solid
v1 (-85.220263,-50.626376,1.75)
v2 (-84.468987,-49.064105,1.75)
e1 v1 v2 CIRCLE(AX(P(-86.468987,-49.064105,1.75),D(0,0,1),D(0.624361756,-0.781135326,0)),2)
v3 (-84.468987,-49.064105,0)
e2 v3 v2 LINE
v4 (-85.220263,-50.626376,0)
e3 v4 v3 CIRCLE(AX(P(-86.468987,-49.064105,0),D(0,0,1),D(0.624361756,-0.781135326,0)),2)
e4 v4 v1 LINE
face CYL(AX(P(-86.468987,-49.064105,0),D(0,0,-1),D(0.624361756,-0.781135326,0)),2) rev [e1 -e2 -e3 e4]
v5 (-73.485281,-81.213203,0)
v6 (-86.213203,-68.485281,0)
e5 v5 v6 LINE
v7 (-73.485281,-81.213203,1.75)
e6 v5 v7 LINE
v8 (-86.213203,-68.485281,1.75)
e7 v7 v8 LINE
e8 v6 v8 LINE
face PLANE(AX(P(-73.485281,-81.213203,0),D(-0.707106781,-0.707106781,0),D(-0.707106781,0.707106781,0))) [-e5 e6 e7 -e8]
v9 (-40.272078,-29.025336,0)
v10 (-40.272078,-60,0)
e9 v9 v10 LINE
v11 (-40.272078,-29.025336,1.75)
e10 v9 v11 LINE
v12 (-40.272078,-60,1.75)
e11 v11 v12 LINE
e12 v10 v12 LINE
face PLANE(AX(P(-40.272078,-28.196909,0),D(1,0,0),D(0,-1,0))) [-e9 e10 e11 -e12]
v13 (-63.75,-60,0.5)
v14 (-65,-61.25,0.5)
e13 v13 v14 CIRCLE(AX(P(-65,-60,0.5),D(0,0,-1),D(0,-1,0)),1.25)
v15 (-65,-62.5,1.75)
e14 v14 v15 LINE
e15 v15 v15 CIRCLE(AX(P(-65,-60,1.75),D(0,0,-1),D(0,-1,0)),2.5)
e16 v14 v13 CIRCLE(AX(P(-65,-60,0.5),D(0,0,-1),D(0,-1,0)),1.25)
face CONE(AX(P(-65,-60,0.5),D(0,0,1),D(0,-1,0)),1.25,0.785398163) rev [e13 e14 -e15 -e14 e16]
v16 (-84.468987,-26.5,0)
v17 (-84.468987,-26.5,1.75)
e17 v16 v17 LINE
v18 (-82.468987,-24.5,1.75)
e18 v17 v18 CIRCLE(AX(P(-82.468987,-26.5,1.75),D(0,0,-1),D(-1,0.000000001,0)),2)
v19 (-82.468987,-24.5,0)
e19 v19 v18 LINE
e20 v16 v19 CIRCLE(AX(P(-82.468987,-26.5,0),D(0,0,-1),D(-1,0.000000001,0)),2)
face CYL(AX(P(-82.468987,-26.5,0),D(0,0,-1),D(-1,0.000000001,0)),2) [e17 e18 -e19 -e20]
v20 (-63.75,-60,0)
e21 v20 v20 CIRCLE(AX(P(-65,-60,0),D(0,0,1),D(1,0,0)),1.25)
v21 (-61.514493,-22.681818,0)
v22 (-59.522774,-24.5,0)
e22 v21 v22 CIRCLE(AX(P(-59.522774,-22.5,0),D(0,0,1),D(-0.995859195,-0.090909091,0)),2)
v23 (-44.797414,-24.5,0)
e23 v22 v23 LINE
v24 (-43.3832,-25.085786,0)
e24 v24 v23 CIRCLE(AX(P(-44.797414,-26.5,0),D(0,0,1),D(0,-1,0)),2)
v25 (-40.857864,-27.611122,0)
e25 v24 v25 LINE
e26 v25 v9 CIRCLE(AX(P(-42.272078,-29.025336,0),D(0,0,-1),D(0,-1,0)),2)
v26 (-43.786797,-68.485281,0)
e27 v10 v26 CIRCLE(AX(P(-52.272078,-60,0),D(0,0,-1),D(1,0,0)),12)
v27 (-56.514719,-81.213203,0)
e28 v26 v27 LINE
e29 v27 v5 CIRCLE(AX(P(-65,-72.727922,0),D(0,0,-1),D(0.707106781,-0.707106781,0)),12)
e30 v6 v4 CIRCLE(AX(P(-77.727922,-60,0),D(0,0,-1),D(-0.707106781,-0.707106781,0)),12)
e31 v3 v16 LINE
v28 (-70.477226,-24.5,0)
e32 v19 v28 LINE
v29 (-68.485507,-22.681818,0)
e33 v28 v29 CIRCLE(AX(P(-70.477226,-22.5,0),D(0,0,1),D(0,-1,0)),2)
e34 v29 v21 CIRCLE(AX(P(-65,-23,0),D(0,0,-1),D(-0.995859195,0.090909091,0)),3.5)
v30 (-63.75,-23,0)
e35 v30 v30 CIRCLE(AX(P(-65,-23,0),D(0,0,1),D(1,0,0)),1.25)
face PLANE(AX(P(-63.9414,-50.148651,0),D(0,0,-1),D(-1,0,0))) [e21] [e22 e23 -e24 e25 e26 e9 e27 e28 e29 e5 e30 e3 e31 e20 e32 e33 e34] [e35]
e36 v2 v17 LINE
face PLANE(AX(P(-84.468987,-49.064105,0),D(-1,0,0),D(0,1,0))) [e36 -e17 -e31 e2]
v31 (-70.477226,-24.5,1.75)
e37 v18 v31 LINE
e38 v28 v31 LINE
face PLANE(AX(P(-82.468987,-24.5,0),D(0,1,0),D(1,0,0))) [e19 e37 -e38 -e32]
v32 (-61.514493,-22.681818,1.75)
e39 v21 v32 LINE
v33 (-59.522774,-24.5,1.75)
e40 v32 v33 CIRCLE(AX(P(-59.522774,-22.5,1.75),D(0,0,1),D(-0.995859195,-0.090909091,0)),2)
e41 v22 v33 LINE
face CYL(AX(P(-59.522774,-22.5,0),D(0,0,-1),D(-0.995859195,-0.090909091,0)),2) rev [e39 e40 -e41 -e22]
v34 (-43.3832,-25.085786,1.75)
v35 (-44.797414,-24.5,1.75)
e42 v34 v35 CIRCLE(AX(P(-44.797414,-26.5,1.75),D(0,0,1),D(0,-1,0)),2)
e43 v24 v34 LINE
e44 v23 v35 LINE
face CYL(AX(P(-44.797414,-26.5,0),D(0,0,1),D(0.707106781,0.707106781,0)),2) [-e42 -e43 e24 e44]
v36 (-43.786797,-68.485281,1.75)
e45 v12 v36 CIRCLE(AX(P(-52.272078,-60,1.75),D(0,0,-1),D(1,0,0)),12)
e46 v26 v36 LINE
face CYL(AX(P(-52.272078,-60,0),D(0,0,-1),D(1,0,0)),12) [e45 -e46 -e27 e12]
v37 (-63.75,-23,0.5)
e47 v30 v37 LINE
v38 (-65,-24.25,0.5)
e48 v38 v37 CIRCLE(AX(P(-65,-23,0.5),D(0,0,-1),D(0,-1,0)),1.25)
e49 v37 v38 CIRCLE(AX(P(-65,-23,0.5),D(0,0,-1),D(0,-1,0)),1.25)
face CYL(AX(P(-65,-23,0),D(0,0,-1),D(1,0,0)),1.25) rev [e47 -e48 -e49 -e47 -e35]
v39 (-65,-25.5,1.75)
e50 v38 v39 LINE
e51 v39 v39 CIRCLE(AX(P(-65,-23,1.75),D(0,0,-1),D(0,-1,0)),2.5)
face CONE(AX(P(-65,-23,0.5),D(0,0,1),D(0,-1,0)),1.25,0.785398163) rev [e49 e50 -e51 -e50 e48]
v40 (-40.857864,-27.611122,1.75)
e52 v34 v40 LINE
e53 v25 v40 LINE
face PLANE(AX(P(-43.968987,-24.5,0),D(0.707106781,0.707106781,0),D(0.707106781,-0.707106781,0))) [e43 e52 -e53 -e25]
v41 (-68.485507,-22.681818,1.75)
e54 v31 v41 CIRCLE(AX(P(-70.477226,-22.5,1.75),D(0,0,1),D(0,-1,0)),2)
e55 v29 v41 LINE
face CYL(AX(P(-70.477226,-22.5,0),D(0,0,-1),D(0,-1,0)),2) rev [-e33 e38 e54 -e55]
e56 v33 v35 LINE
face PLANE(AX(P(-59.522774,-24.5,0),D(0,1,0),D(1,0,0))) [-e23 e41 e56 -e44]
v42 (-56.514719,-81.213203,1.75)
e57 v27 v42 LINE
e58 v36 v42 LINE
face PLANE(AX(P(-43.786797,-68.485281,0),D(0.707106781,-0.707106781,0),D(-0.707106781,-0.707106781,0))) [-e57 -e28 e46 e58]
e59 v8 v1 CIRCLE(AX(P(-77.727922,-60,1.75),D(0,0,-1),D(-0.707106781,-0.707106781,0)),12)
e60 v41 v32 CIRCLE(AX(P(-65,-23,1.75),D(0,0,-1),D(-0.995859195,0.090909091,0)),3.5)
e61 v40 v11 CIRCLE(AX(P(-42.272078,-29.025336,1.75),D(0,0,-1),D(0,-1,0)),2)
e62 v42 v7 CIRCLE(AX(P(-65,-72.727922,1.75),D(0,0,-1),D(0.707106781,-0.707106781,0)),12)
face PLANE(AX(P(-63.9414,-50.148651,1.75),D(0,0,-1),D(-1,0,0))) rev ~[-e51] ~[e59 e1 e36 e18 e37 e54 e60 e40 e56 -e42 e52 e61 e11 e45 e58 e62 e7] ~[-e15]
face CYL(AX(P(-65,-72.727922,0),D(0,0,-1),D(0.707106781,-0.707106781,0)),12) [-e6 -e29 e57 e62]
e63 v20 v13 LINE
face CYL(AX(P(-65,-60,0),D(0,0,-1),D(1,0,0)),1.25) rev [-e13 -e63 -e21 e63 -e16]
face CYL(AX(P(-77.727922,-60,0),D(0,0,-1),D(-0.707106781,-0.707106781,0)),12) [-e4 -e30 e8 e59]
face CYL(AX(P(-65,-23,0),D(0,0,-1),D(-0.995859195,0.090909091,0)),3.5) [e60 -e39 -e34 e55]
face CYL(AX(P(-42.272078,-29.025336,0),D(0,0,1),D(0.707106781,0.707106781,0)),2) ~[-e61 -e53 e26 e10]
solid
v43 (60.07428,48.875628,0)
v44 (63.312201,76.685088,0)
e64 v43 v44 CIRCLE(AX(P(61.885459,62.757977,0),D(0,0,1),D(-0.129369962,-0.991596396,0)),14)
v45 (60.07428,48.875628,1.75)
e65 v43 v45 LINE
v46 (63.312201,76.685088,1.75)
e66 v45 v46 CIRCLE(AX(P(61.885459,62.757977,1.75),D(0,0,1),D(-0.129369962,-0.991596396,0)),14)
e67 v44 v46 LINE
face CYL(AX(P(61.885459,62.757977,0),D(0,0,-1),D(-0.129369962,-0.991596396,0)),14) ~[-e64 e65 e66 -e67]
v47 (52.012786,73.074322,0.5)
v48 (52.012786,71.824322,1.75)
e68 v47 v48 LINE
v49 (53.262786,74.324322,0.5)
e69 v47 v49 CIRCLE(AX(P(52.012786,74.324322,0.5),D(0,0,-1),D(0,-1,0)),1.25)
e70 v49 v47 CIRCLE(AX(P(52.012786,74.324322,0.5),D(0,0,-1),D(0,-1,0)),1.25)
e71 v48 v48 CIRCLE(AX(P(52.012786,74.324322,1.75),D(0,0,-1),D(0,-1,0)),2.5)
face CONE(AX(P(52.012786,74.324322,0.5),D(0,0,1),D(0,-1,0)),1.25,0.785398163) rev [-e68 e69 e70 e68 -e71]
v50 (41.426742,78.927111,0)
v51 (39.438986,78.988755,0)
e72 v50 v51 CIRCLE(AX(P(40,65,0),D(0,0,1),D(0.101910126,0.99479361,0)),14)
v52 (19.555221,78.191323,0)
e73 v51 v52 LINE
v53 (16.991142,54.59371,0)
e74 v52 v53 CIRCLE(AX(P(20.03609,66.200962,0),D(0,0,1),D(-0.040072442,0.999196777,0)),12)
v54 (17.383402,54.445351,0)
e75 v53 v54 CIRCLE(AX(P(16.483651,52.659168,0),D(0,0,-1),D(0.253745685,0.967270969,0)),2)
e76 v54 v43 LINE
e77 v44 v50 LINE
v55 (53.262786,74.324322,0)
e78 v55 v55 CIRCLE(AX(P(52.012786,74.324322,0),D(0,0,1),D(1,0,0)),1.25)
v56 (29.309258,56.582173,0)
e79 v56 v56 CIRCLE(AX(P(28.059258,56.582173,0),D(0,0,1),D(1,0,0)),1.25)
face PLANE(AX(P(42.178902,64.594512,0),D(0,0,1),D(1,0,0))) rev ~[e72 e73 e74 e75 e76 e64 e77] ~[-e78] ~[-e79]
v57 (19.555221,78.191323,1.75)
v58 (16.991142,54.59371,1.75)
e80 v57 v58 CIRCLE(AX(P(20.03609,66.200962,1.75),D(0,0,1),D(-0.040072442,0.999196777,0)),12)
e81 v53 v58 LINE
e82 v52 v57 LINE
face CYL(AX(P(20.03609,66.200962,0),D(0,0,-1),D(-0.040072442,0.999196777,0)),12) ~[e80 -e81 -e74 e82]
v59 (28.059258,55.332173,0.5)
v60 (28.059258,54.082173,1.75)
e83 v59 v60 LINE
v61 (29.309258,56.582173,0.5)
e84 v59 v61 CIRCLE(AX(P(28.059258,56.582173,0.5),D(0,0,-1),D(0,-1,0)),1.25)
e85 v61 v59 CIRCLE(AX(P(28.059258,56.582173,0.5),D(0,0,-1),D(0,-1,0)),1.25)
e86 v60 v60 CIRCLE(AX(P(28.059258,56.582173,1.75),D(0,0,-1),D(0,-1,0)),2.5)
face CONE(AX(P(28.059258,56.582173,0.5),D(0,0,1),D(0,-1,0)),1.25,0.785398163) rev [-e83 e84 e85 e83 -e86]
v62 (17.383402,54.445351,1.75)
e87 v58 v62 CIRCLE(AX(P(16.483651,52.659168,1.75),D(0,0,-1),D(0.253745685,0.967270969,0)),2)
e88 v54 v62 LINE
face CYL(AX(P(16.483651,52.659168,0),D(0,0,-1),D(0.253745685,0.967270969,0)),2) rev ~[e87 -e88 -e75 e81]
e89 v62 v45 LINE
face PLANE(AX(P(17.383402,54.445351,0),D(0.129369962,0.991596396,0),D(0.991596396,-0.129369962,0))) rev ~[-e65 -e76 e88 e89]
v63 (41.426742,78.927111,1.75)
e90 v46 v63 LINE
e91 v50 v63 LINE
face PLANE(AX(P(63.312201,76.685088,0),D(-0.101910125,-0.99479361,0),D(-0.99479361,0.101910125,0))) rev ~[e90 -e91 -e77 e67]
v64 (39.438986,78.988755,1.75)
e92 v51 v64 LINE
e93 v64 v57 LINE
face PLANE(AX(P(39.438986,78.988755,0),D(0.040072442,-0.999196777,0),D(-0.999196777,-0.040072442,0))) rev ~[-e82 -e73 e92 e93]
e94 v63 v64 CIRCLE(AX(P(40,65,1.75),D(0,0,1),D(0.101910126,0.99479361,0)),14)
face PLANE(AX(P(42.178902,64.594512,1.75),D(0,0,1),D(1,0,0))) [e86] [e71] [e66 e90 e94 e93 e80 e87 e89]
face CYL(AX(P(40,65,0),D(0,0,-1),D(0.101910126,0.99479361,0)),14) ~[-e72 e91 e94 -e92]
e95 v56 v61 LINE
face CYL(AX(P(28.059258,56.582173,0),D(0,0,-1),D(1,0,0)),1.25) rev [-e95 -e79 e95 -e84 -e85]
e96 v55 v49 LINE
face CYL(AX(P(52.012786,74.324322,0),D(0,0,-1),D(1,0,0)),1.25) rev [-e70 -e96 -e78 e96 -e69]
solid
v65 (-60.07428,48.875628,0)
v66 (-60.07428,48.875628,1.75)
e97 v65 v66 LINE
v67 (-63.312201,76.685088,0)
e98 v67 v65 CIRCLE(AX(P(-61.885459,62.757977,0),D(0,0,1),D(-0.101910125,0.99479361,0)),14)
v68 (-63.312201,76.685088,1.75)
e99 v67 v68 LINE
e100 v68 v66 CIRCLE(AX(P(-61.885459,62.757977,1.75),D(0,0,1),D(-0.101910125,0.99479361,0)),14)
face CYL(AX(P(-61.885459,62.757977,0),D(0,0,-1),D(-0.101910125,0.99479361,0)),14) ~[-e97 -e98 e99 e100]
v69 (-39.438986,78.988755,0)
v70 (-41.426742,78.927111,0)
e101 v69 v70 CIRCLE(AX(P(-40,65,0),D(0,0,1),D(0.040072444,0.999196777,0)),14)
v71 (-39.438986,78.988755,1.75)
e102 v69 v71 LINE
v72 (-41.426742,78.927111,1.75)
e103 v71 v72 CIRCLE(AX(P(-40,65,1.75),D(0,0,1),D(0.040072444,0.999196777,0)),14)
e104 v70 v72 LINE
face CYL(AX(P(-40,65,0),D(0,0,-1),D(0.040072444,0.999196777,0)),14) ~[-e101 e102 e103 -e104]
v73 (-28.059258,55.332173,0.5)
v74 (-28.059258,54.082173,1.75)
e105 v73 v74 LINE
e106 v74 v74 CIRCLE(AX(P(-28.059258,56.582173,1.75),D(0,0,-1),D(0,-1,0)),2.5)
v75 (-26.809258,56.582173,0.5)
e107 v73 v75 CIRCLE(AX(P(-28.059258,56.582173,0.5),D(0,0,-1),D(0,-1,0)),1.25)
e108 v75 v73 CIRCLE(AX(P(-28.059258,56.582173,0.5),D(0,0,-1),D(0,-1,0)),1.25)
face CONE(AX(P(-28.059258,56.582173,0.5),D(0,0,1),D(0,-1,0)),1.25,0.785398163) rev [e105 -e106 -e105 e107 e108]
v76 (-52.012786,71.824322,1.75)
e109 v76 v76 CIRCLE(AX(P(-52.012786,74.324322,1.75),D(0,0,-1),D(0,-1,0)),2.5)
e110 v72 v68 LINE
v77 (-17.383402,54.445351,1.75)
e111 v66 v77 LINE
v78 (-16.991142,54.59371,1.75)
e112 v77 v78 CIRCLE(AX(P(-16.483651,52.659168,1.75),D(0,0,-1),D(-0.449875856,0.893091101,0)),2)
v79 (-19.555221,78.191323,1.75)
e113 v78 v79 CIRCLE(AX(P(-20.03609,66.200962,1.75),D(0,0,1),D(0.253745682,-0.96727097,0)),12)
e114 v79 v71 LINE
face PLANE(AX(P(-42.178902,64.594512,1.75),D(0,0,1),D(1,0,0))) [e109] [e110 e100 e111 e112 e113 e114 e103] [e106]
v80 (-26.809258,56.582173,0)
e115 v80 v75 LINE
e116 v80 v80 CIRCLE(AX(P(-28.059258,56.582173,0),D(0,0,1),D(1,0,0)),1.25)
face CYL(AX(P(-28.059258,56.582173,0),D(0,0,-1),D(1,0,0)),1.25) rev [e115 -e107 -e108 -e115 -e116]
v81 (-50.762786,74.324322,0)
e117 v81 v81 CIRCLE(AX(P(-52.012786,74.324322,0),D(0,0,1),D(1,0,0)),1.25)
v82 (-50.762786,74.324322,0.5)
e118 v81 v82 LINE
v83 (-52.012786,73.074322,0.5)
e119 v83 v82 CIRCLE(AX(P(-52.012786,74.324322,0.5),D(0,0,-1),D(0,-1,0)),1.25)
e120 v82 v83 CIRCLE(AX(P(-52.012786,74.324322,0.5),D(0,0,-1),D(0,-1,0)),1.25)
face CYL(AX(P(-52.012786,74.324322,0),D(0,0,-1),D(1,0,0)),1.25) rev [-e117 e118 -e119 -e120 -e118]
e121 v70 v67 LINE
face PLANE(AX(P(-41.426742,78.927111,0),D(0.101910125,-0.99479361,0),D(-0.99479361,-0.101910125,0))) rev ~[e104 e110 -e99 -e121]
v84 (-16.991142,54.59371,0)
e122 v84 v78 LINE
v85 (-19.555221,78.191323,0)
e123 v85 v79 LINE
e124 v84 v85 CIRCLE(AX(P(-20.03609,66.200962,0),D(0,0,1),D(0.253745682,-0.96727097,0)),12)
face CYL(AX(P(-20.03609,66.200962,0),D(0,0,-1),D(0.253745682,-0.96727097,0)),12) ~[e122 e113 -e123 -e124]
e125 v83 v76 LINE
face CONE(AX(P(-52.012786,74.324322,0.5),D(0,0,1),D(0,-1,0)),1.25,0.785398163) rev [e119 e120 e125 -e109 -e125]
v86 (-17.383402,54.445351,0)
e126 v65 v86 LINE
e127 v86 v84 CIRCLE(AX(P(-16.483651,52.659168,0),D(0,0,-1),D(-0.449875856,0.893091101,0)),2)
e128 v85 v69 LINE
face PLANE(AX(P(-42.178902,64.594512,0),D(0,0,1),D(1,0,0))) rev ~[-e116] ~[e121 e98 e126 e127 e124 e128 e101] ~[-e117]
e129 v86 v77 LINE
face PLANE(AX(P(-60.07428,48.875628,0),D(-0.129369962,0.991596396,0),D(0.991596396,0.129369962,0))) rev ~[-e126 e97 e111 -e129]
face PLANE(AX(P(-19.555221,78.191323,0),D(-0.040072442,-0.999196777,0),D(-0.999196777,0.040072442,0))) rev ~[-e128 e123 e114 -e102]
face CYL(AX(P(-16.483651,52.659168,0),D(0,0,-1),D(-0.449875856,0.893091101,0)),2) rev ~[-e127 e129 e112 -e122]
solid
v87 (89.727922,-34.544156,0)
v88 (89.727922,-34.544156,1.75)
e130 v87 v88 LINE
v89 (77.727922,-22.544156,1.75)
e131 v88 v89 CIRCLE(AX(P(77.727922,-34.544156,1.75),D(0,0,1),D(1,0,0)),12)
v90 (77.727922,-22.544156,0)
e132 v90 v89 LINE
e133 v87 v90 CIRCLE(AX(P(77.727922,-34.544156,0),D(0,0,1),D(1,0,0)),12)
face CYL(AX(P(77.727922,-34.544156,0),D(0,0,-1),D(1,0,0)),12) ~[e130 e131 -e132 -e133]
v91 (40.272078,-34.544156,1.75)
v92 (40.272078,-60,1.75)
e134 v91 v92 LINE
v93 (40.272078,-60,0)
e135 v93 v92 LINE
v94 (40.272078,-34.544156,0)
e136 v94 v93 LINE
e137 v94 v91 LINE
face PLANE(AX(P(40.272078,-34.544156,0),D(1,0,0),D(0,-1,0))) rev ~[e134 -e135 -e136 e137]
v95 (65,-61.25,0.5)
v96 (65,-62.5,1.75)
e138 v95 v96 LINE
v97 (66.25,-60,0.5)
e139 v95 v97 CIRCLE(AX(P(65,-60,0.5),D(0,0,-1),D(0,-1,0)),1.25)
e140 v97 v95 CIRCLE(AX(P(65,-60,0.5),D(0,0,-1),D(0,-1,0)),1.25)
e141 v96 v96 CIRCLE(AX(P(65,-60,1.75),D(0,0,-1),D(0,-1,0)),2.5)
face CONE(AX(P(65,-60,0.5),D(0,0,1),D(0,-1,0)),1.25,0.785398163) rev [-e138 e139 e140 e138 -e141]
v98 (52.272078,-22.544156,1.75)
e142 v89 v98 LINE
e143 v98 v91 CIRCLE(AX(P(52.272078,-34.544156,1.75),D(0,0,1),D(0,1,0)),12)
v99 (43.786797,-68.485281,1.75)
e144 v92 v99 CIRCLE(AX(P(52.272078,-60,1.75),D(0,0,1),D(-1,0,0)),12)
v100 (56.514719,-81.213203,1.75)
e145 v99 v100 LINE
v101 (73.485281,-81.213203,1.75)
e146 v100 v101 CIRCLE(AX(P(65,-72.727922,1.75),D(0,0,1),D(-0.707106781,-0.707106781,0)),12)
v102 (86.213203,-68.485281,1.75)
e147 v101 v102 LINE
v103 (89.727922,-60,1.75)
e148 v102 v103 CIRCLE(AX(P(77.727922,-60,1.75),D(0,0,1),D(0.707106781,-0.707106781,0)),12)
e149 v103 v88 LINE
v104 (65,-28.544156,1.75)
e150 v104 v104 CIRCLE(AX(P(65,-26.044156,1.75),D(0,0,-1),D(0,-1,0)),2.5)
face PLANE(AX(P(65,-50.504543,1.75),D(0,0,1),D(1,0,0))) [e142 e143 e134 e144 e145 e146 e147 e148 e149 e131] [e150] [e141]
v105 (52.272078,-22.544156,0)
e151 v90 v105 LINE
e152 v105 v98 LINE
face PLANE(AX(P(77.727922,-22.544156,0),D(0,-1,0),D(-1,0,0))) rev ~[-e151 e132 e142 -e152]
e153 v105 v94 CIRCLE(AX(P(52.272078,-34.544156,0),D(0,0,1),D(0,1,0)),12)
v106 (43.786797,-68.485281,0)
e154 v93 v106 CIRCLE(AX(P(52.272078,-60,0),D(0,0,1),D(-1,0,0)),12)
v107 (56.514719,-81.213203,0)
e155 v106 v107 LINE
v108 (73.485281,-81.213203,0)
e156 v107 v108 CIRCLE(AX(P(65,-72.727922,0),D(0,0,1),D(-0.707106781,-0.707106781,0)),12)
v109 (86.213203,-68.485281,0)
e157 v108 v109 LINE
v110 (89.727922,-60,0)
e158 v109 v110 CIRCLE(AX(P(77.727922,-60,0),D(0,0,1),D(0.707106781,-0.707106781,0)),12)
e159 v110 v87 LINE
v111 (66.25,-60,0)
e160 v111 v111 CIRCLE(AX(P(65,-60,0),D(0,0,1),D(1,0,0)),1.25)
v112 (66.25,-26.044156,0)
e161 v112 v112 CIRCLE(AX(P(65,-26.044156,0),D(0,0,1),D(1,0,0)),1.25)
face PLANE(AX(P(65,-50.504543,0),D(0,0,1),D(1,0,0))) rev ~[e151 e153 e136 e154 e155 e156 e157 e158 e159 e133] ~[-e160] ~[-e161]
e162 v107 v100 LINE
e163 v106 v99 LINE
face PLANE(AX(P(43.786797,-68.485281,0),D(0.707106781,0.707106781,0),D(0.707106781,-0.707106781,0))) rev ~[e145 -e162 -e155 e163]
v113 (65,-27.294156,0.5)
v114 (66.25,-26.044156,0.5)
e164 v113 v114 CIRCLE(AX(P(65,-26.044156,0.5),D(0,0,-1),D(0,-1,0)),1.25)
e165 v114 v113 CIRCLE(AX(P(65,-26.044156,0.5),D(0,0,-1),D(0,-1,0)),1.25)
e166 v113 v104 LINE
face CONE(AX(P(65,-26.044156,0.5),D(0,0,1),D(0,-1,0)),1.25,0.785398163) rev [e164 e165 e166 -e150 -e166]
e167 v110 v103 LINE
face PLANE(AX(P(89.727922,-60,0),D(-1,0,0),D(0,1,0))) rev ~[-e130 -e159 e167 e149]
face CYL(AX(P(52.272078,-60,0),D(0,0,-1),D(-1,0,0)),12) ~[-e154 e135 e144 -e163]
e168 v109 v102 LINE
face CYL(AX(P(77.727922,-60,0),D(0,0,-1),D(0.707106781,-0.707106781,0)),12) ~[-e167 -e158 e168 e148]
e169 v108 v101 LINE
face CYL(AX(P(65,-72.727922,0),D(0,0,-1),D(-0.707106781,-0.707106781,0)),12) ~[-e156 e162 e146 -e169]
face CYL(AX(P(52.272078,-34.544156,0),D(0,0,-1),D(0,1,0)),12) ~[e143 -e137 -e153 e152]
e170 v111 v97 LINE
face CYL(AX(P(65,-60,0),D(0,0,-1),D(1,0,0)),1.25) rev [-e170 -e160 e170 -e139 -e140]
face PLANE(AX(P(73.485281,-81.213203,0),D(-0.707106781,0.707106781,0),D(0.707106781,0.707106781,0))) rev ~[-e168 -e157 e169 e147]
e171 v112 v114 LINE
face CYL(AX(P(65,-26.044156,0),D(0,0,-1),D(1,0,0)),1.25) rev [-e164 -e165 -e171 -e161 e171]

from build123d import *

# Parameters (mm, degrees)
SKETCH1_R                                      = 1.25
BOSS_EXTRUDE1_DEPTH                            = 1.75
BOSS_EXTRUDE1_2_DEPTH                          = 1.75
BOSS_EXTRUDE1_3_DEPTH                          = 1.75
BOSS_EXTRUDE1_4_DEPTH                          = 1.75
CSK_FOR_M2_5_FLAT_HEAD_MACHINE_SCREW1_AT_COUNT = 2
CSK_FOR_M2_5_FLAT_HEAD_MACHINE_SCREW1_AT_PITCH = 37
CSK_FOR_M2_5_FLAT_HEAD_MACHINE_SCREW_2_COUNT   = 2
CSK_FOR_M2_5_FLAT_HEAD_MACHINE_SCREW_2_PITCH   = 98.187021999
CSK_FOR_M2_5_FLAT_HEAD_MACHINE_SCREW_3_COUNT   = 2
CSK_FOR_M2_5_FLAT_HEAD_MACHINE_SCREW_3_PITCH   = 87.737908903
CSK_FOR_M2_5_FLAT_HEAD_MACHINE_SCREW_4_COUNT   = 2
CSK_FOR_M2_5_FLAT_HEAD_MACHINE_SCREW_4_PITCH   = 152.197291874
CSK_FOR_M2_5_FLAT_HEAD_MACHINE_SCREW_5_COUNT   = 2
CSK_FOR_M2_5_FLAT_HEAD_MACHINE_SCREW_5_PITCH   = 122.44732595
CSK_FOR_M2_5_FLAT_HEAD_MACHINE_SCREW_6_COUNT   = 2
CSK_FOR_M2_5_FLAT_HEAD_MACHINE_SCREW_6_PITCH   = 130.035636981
CSK_FOR_M2_5_FLAT_HEAD_MACHINE_SCREW_7_COUNT   = 2
CSK_FOR_M2_5_FLAT_HEAD_MACHINE_SCREW_7_PITCH   = 135.162864723
FILLET1_R                                      = 2


with BuildPart() as part:
    # Sketch1 → Boss-Extrude1 (new body)
    with BuildSketch(Plane.XY):
        with BuildLine():
            Line((-43.968986643, -24.5), (-40.272077939, -28.196908704))
            Line((-40.272077939, -28.196908704), (-40.272077939, -60))
            ThreePointArc((-40.272077939, -60), (-41.185523549, -64.592201188), (-43.786796564, -68.485281374))
            Line((-43.786796564, -68.485281374), (-56.514718626, -81.213203436))
            ThreePointArc((-56.514718626, -81.213203436), (-65, -84.727922061), (-73.485281374, -81.213203436))
            Line((-73.485281374, -81.213203436), (-86.213203436, -68.485281374))
            ThreePointArc((-86.213203436, -68.485281374), (-89.709417347, -59.333838811), (-85.220263131, -50.626376085))
            ThreePointArc((-85.220263131, -50.626376085), (-84.666565074, -49.930867504), (-84.468986643, -49.064105433))
            Line((-84.468986643, -49.064105433), (-84.468986643, -26.5))
            ThreePointArc((-84.468986643, -26.5), (-83.883200205, -25.085786438), (-82.468986643, -24.5))
            Line((-82.468986643, -24.5), (-70.477225575, -24.5))
            ThreePointArc((-70.477225575, -24.5), (-69.12882585, -23.977097892), (-68.485507184, -22.681818182))
            ThreePointArc((-68.485507184, -22.681818182), (-65, -19.5), (-61.514492816, -22.681818182))
            ThreePointArc((-61.514492816, -22.681818182), (-60.87117415, -23.977097892), (-59.522774425, -24.5))
            Line((-59.522774425, -24.5), (-43.968986643, -24.5))
        make_face()
        with Locations((-65, -60)):
            Circle(SKETCH1_R, mode=Mode.SUBTRACT)
        with Locations((-65, -23)):
            Circle(SKETCH1_R, mode=Mode.SUBTRACT)
    extrude(amount=BOSS_EXTRUDE1_DEPTH)

    # Sketch3 → CSK for M2.5 Flat Head Machine Screw1 (revolve, cut)
    with BuildSketch(Plane(origin=(-65, -23, 1.75), x_dir=(0, -1, 0), z_dir=(1, 0, 0))):
        Polygon((0, 0), (0, 1.75), (1.25, 1.75), (1.25, 1.25), (2.5, 0), align=None)
    csk_for_m2_5_flat_head_machine_screw1 = revolve(axis=Axis((-65, -23, 8.1), (0, 0, -1)), mode=Mode.SUBTRACT)

    # CSK for M2.5 Flat Head Machine Screw1 at: CSK for M2.5 Flat Head Machine Screw1 ×2
    with Locations(*[(0, -i * CSK_FOR_M2_5_FLAT_HEAD_MACHINE_SCREW1_AT_PITCH, 0) for i in range(1, CSK_FOR_M2_5_FLAT_HEAD_MACHINE_SCREW1_AT_COUNT)]):
        add(csk_for_m2_5_flat_head_machine_screw1, mode=Mode.SUBTRACT)

    # Fillet1
    fillet1_edges = [part.edges().sort_by_distance(p)[0] for p in [
        (-43.968986643, -24.5, 0.875),
        (-40.272077939, -28.196908704, 0.875),
    ]]
    fillet(fillet1_edges, radius=FILLET1_R)


with BuildPart() as body_2:
    # Sketch1 → Boss-Extrude1 2 (new body)
    with BuildSketch(Plane.XY):
        with BuildLine():
            Line((89.727922061, -60), (89.727922061, -34.544155877))
            ThreePointArc((89.727922061, -34.544155877), (86.213203436, -26.058874503), (77.727922061, -22.544155877))
            Line((77.727922061, -22.544155877), (52.272077939, -22.544155877))
            ThreePointArc((52.272077939, -22.544155877), (43.786796564, -26.058874503), (40.272077939, -34.544155877))
            Line((40.272077939, -34.544155877), (40.272077939, -60))
            ThreePointArc((40.272077939, -60), (41.185523549, -64.592201188), (43.786796564, -68.485281374))
            Line((43.786796564, -68.485281374), (56.514718626, -81.213203436))
            ThreePointArc((56.514718626, -81.213203436), (65, -84.727922061), (73.485281374, -81.213203436))
            Line((73.485281374, -81.213203436), (86.213203436, -68.485281374))
            ThreePointArc((86.213203436, -68.485281374), (88.814476451, -64.592201188), (89.727922061, -60))
        make_face()
        with Locations((65, -60)):
            Circle(SKETCH1_R, mode=Mode.SUBTRACT)
        with Locations((65, -26.044155877)):
            Circle(SKETCH1_R, mode=Mode.SUBTRACT)
    extrude(amount=BOSS_EXTRUDE1_2_DEPTH)

    # CSK for M2.5 Flat Head Machine Screw 6: CSK for M2.5 Flat Head Machine Screw1 ×2
    with Locations(*[Vector(0.9997259445053818, -0.023410166227997686, 0) * (i * CSK_FOR_M2_5_FLAT_HEAD_MACHINE_SCREW_6_PITCH) for i in range(1, CSK_FOR_M2_5_FLAT_HEAD_MACHINE_SCREW_6_COUNT)]):
        add(csk_for_m2_5_flat_head_machine_screw1, mode=Mode.SUBTRACT)

    # CSK for M2.5 Flat Head Machine Screw 7: CSK for M2.5 Flat Head Machine Screw1 ×2
    with Locations(*[Vector(0.9618026391115247, -0.2737438280548188, 0) * (i * CSK_FOR_M2_5_FLAT_HEAD_MACHINE_SCREW_7_PITCH) for i in range(1, CSK_FOR_M2_5_FLAT_HEAD_MACHINE_SCREW_7_COUNT)]):
        add(csk_for_m2_5_flat_head_machine_screw1, mode=Mode.SUBTRACT)


with BuildPart() as body_3:
    # Sketch1 → Boss-Extrude1 3 (new body)
    with BuildSketch(Plane.XY):
        with BuildLine():
            Line((63.312201165, 76.685087798), (41.426741745, 78.92711054))
            ThreePointArc((41.426741745, 78.92711054), (40.43395974, 78.993272632), (39.438985809, 78.988754879))
            Line((39.438985809, 78.988754879), (19.555221001, 78.191323348))
            ThreePointArc((19.555221001, 78.191323348), (8.106309017, 67.497232972), (16.991142128, 54.593710385))
            ThreePointArc((16.991142128, 54.593710385), (17.191171735, 54.529840537), (17.383402479, 54.445350645))
            Line((17.383402479, 54.445350645), (60.074279954, 48.875627711))
            ThreePointArc((60.074279954, 48.875627711), (75.791518016, 61.138861966), (63.312201165, 76.685087798))
        make_face()
        with Locations((52.012786019, 74.324321534)):
            Circle(SKETCH1_R, mode=Mode.SUBTRACT)
        with Locations((28.059257591, 56.582172683)):
            Circle(SKETCH1_R, mode=Mode.SUBTRACT)
    extrude(amount=BOSS_EXTRUDE1_3_DEPTH)

    # CSK for M2.5 Flat Head Machine Screw 4: CSK for M2.5 Flat Head Machine Screw1 ×2
    with Locations(*[Vector(0.7688230491999356, 0.6394615852566231, 0) * (i * CSK_FOR_M2_5_FLAT_HEAD_MACHINE_SCREW_4_PITCH) for i in range(1, CSK_FOR_M2_5_FLAT_HEAD_MACHINE_SCREW_4_COUNT)]):
        add(csk_for_m2_5_flat_head_machine_screw1, mode=Mode.SUBTRACT)

    # CSK for M2.5 Flat Head Machine Screw 5: CSK for M2.5 Flat Head Machine Screw1 ×2
    with Locations(*[Vector(0.7599942005192046, 0.6499298540436306, 0) * (i * CSK_FOR_M2_5_FLAT_HEAD_MACHINE_SCREW_5_PITCH) for i in range(1, CSK_FOR_M2_5_FLAT_HEAD_MACHINE_SCREW_5_COUNT)]):
        add(csk_for_m2_5_flat_head_machine_screw1, mode=Mode.SUBTRACT)


with BuildPart() as body_4:
    # Sketch1 → Boss-Extrude1 4 (new body)
    with BuildSketch(Plane.XY):
        with BuildLine():
            Line((-41.426741745, 78.92711054), (-63.312201165, 76.685087798))
            ThreePointArc((-63.312201165, 76.685087798), (-75.791518016, 61.138861966), (-60.074279954, 48.875627711))
            Line((-60.074279954, 48.875627711), (-17.383402479, 54.445350645))
            ThreePointArc((-17.383402479, 54.445350645), (-17.191171735, 54.529840537), (-16.991142128, 54.593710385))
            ThreePointArc((-16.991142128, 54.593710385), (-8.106309017, 67.497232972), (-19.555221001, 78.191323348))
            Line((-19.555221001, 78.191323348), (-39.438985809, 78.988754879))
            ThreePointArc((-39.438985809, 78.988754879), (-40.43395974, 78.993272632), (-41.426741745, 78.92711054))
        make_face()
        with Locations((-28.059257591, 56.582172683)):
            Circle(SKETCH1_R, mode=Mode.SUBTRACT)
        with Locations((-52.012786019, 74.324321534)):
            Circle(SKETCH1_R, mode=Mode.SUBTRACT)
    extrude(amount=BOSS_EXTRUDE1_4_DEPTH)

    # CSK for M2.5 Flat Head Machine Screw 2: CSK for M2.5 Flat Head Machine Screw1 ×2
    with Locations(*[Vector(0.1322701688752495, 0.9912137016938946, 0) * (i * CSK_FOR_M2_5_FLAT_HEAD_MACHINE_SCREW_2_PITCH) for i in range(1, CSK_FOR_M2_5_FLAT_HEAD_MACHINE_SCREW_2_COUNT)]):
        add(csk_for_m2_5_flat_head_machine_screw1, mode=Mode.SUBTRACT)

    # CSK for M2.5 Flat Head Machine Screw 3: CSK for M2.5 Flat Head Machine Screw1 ×2
    with Locations(*[Vector(0.42103513602016673, 0.9070443287053174, 0) * (i * CSK_FOR_M2_5_FLAT_HEAD_MACHINE_SCREW_3_PITCH) for i in range(1, CSK_FOR_M2_5_FLAT_HEAD_MACHINE_SCREW_3_COUNT)]):
        add(csk_for_m2_5_flat_head_machine_screw1, mode=Mode.SUBTRACT)


solid = Compound([part.part, body_2.part, body_3.part, body_4.part])
